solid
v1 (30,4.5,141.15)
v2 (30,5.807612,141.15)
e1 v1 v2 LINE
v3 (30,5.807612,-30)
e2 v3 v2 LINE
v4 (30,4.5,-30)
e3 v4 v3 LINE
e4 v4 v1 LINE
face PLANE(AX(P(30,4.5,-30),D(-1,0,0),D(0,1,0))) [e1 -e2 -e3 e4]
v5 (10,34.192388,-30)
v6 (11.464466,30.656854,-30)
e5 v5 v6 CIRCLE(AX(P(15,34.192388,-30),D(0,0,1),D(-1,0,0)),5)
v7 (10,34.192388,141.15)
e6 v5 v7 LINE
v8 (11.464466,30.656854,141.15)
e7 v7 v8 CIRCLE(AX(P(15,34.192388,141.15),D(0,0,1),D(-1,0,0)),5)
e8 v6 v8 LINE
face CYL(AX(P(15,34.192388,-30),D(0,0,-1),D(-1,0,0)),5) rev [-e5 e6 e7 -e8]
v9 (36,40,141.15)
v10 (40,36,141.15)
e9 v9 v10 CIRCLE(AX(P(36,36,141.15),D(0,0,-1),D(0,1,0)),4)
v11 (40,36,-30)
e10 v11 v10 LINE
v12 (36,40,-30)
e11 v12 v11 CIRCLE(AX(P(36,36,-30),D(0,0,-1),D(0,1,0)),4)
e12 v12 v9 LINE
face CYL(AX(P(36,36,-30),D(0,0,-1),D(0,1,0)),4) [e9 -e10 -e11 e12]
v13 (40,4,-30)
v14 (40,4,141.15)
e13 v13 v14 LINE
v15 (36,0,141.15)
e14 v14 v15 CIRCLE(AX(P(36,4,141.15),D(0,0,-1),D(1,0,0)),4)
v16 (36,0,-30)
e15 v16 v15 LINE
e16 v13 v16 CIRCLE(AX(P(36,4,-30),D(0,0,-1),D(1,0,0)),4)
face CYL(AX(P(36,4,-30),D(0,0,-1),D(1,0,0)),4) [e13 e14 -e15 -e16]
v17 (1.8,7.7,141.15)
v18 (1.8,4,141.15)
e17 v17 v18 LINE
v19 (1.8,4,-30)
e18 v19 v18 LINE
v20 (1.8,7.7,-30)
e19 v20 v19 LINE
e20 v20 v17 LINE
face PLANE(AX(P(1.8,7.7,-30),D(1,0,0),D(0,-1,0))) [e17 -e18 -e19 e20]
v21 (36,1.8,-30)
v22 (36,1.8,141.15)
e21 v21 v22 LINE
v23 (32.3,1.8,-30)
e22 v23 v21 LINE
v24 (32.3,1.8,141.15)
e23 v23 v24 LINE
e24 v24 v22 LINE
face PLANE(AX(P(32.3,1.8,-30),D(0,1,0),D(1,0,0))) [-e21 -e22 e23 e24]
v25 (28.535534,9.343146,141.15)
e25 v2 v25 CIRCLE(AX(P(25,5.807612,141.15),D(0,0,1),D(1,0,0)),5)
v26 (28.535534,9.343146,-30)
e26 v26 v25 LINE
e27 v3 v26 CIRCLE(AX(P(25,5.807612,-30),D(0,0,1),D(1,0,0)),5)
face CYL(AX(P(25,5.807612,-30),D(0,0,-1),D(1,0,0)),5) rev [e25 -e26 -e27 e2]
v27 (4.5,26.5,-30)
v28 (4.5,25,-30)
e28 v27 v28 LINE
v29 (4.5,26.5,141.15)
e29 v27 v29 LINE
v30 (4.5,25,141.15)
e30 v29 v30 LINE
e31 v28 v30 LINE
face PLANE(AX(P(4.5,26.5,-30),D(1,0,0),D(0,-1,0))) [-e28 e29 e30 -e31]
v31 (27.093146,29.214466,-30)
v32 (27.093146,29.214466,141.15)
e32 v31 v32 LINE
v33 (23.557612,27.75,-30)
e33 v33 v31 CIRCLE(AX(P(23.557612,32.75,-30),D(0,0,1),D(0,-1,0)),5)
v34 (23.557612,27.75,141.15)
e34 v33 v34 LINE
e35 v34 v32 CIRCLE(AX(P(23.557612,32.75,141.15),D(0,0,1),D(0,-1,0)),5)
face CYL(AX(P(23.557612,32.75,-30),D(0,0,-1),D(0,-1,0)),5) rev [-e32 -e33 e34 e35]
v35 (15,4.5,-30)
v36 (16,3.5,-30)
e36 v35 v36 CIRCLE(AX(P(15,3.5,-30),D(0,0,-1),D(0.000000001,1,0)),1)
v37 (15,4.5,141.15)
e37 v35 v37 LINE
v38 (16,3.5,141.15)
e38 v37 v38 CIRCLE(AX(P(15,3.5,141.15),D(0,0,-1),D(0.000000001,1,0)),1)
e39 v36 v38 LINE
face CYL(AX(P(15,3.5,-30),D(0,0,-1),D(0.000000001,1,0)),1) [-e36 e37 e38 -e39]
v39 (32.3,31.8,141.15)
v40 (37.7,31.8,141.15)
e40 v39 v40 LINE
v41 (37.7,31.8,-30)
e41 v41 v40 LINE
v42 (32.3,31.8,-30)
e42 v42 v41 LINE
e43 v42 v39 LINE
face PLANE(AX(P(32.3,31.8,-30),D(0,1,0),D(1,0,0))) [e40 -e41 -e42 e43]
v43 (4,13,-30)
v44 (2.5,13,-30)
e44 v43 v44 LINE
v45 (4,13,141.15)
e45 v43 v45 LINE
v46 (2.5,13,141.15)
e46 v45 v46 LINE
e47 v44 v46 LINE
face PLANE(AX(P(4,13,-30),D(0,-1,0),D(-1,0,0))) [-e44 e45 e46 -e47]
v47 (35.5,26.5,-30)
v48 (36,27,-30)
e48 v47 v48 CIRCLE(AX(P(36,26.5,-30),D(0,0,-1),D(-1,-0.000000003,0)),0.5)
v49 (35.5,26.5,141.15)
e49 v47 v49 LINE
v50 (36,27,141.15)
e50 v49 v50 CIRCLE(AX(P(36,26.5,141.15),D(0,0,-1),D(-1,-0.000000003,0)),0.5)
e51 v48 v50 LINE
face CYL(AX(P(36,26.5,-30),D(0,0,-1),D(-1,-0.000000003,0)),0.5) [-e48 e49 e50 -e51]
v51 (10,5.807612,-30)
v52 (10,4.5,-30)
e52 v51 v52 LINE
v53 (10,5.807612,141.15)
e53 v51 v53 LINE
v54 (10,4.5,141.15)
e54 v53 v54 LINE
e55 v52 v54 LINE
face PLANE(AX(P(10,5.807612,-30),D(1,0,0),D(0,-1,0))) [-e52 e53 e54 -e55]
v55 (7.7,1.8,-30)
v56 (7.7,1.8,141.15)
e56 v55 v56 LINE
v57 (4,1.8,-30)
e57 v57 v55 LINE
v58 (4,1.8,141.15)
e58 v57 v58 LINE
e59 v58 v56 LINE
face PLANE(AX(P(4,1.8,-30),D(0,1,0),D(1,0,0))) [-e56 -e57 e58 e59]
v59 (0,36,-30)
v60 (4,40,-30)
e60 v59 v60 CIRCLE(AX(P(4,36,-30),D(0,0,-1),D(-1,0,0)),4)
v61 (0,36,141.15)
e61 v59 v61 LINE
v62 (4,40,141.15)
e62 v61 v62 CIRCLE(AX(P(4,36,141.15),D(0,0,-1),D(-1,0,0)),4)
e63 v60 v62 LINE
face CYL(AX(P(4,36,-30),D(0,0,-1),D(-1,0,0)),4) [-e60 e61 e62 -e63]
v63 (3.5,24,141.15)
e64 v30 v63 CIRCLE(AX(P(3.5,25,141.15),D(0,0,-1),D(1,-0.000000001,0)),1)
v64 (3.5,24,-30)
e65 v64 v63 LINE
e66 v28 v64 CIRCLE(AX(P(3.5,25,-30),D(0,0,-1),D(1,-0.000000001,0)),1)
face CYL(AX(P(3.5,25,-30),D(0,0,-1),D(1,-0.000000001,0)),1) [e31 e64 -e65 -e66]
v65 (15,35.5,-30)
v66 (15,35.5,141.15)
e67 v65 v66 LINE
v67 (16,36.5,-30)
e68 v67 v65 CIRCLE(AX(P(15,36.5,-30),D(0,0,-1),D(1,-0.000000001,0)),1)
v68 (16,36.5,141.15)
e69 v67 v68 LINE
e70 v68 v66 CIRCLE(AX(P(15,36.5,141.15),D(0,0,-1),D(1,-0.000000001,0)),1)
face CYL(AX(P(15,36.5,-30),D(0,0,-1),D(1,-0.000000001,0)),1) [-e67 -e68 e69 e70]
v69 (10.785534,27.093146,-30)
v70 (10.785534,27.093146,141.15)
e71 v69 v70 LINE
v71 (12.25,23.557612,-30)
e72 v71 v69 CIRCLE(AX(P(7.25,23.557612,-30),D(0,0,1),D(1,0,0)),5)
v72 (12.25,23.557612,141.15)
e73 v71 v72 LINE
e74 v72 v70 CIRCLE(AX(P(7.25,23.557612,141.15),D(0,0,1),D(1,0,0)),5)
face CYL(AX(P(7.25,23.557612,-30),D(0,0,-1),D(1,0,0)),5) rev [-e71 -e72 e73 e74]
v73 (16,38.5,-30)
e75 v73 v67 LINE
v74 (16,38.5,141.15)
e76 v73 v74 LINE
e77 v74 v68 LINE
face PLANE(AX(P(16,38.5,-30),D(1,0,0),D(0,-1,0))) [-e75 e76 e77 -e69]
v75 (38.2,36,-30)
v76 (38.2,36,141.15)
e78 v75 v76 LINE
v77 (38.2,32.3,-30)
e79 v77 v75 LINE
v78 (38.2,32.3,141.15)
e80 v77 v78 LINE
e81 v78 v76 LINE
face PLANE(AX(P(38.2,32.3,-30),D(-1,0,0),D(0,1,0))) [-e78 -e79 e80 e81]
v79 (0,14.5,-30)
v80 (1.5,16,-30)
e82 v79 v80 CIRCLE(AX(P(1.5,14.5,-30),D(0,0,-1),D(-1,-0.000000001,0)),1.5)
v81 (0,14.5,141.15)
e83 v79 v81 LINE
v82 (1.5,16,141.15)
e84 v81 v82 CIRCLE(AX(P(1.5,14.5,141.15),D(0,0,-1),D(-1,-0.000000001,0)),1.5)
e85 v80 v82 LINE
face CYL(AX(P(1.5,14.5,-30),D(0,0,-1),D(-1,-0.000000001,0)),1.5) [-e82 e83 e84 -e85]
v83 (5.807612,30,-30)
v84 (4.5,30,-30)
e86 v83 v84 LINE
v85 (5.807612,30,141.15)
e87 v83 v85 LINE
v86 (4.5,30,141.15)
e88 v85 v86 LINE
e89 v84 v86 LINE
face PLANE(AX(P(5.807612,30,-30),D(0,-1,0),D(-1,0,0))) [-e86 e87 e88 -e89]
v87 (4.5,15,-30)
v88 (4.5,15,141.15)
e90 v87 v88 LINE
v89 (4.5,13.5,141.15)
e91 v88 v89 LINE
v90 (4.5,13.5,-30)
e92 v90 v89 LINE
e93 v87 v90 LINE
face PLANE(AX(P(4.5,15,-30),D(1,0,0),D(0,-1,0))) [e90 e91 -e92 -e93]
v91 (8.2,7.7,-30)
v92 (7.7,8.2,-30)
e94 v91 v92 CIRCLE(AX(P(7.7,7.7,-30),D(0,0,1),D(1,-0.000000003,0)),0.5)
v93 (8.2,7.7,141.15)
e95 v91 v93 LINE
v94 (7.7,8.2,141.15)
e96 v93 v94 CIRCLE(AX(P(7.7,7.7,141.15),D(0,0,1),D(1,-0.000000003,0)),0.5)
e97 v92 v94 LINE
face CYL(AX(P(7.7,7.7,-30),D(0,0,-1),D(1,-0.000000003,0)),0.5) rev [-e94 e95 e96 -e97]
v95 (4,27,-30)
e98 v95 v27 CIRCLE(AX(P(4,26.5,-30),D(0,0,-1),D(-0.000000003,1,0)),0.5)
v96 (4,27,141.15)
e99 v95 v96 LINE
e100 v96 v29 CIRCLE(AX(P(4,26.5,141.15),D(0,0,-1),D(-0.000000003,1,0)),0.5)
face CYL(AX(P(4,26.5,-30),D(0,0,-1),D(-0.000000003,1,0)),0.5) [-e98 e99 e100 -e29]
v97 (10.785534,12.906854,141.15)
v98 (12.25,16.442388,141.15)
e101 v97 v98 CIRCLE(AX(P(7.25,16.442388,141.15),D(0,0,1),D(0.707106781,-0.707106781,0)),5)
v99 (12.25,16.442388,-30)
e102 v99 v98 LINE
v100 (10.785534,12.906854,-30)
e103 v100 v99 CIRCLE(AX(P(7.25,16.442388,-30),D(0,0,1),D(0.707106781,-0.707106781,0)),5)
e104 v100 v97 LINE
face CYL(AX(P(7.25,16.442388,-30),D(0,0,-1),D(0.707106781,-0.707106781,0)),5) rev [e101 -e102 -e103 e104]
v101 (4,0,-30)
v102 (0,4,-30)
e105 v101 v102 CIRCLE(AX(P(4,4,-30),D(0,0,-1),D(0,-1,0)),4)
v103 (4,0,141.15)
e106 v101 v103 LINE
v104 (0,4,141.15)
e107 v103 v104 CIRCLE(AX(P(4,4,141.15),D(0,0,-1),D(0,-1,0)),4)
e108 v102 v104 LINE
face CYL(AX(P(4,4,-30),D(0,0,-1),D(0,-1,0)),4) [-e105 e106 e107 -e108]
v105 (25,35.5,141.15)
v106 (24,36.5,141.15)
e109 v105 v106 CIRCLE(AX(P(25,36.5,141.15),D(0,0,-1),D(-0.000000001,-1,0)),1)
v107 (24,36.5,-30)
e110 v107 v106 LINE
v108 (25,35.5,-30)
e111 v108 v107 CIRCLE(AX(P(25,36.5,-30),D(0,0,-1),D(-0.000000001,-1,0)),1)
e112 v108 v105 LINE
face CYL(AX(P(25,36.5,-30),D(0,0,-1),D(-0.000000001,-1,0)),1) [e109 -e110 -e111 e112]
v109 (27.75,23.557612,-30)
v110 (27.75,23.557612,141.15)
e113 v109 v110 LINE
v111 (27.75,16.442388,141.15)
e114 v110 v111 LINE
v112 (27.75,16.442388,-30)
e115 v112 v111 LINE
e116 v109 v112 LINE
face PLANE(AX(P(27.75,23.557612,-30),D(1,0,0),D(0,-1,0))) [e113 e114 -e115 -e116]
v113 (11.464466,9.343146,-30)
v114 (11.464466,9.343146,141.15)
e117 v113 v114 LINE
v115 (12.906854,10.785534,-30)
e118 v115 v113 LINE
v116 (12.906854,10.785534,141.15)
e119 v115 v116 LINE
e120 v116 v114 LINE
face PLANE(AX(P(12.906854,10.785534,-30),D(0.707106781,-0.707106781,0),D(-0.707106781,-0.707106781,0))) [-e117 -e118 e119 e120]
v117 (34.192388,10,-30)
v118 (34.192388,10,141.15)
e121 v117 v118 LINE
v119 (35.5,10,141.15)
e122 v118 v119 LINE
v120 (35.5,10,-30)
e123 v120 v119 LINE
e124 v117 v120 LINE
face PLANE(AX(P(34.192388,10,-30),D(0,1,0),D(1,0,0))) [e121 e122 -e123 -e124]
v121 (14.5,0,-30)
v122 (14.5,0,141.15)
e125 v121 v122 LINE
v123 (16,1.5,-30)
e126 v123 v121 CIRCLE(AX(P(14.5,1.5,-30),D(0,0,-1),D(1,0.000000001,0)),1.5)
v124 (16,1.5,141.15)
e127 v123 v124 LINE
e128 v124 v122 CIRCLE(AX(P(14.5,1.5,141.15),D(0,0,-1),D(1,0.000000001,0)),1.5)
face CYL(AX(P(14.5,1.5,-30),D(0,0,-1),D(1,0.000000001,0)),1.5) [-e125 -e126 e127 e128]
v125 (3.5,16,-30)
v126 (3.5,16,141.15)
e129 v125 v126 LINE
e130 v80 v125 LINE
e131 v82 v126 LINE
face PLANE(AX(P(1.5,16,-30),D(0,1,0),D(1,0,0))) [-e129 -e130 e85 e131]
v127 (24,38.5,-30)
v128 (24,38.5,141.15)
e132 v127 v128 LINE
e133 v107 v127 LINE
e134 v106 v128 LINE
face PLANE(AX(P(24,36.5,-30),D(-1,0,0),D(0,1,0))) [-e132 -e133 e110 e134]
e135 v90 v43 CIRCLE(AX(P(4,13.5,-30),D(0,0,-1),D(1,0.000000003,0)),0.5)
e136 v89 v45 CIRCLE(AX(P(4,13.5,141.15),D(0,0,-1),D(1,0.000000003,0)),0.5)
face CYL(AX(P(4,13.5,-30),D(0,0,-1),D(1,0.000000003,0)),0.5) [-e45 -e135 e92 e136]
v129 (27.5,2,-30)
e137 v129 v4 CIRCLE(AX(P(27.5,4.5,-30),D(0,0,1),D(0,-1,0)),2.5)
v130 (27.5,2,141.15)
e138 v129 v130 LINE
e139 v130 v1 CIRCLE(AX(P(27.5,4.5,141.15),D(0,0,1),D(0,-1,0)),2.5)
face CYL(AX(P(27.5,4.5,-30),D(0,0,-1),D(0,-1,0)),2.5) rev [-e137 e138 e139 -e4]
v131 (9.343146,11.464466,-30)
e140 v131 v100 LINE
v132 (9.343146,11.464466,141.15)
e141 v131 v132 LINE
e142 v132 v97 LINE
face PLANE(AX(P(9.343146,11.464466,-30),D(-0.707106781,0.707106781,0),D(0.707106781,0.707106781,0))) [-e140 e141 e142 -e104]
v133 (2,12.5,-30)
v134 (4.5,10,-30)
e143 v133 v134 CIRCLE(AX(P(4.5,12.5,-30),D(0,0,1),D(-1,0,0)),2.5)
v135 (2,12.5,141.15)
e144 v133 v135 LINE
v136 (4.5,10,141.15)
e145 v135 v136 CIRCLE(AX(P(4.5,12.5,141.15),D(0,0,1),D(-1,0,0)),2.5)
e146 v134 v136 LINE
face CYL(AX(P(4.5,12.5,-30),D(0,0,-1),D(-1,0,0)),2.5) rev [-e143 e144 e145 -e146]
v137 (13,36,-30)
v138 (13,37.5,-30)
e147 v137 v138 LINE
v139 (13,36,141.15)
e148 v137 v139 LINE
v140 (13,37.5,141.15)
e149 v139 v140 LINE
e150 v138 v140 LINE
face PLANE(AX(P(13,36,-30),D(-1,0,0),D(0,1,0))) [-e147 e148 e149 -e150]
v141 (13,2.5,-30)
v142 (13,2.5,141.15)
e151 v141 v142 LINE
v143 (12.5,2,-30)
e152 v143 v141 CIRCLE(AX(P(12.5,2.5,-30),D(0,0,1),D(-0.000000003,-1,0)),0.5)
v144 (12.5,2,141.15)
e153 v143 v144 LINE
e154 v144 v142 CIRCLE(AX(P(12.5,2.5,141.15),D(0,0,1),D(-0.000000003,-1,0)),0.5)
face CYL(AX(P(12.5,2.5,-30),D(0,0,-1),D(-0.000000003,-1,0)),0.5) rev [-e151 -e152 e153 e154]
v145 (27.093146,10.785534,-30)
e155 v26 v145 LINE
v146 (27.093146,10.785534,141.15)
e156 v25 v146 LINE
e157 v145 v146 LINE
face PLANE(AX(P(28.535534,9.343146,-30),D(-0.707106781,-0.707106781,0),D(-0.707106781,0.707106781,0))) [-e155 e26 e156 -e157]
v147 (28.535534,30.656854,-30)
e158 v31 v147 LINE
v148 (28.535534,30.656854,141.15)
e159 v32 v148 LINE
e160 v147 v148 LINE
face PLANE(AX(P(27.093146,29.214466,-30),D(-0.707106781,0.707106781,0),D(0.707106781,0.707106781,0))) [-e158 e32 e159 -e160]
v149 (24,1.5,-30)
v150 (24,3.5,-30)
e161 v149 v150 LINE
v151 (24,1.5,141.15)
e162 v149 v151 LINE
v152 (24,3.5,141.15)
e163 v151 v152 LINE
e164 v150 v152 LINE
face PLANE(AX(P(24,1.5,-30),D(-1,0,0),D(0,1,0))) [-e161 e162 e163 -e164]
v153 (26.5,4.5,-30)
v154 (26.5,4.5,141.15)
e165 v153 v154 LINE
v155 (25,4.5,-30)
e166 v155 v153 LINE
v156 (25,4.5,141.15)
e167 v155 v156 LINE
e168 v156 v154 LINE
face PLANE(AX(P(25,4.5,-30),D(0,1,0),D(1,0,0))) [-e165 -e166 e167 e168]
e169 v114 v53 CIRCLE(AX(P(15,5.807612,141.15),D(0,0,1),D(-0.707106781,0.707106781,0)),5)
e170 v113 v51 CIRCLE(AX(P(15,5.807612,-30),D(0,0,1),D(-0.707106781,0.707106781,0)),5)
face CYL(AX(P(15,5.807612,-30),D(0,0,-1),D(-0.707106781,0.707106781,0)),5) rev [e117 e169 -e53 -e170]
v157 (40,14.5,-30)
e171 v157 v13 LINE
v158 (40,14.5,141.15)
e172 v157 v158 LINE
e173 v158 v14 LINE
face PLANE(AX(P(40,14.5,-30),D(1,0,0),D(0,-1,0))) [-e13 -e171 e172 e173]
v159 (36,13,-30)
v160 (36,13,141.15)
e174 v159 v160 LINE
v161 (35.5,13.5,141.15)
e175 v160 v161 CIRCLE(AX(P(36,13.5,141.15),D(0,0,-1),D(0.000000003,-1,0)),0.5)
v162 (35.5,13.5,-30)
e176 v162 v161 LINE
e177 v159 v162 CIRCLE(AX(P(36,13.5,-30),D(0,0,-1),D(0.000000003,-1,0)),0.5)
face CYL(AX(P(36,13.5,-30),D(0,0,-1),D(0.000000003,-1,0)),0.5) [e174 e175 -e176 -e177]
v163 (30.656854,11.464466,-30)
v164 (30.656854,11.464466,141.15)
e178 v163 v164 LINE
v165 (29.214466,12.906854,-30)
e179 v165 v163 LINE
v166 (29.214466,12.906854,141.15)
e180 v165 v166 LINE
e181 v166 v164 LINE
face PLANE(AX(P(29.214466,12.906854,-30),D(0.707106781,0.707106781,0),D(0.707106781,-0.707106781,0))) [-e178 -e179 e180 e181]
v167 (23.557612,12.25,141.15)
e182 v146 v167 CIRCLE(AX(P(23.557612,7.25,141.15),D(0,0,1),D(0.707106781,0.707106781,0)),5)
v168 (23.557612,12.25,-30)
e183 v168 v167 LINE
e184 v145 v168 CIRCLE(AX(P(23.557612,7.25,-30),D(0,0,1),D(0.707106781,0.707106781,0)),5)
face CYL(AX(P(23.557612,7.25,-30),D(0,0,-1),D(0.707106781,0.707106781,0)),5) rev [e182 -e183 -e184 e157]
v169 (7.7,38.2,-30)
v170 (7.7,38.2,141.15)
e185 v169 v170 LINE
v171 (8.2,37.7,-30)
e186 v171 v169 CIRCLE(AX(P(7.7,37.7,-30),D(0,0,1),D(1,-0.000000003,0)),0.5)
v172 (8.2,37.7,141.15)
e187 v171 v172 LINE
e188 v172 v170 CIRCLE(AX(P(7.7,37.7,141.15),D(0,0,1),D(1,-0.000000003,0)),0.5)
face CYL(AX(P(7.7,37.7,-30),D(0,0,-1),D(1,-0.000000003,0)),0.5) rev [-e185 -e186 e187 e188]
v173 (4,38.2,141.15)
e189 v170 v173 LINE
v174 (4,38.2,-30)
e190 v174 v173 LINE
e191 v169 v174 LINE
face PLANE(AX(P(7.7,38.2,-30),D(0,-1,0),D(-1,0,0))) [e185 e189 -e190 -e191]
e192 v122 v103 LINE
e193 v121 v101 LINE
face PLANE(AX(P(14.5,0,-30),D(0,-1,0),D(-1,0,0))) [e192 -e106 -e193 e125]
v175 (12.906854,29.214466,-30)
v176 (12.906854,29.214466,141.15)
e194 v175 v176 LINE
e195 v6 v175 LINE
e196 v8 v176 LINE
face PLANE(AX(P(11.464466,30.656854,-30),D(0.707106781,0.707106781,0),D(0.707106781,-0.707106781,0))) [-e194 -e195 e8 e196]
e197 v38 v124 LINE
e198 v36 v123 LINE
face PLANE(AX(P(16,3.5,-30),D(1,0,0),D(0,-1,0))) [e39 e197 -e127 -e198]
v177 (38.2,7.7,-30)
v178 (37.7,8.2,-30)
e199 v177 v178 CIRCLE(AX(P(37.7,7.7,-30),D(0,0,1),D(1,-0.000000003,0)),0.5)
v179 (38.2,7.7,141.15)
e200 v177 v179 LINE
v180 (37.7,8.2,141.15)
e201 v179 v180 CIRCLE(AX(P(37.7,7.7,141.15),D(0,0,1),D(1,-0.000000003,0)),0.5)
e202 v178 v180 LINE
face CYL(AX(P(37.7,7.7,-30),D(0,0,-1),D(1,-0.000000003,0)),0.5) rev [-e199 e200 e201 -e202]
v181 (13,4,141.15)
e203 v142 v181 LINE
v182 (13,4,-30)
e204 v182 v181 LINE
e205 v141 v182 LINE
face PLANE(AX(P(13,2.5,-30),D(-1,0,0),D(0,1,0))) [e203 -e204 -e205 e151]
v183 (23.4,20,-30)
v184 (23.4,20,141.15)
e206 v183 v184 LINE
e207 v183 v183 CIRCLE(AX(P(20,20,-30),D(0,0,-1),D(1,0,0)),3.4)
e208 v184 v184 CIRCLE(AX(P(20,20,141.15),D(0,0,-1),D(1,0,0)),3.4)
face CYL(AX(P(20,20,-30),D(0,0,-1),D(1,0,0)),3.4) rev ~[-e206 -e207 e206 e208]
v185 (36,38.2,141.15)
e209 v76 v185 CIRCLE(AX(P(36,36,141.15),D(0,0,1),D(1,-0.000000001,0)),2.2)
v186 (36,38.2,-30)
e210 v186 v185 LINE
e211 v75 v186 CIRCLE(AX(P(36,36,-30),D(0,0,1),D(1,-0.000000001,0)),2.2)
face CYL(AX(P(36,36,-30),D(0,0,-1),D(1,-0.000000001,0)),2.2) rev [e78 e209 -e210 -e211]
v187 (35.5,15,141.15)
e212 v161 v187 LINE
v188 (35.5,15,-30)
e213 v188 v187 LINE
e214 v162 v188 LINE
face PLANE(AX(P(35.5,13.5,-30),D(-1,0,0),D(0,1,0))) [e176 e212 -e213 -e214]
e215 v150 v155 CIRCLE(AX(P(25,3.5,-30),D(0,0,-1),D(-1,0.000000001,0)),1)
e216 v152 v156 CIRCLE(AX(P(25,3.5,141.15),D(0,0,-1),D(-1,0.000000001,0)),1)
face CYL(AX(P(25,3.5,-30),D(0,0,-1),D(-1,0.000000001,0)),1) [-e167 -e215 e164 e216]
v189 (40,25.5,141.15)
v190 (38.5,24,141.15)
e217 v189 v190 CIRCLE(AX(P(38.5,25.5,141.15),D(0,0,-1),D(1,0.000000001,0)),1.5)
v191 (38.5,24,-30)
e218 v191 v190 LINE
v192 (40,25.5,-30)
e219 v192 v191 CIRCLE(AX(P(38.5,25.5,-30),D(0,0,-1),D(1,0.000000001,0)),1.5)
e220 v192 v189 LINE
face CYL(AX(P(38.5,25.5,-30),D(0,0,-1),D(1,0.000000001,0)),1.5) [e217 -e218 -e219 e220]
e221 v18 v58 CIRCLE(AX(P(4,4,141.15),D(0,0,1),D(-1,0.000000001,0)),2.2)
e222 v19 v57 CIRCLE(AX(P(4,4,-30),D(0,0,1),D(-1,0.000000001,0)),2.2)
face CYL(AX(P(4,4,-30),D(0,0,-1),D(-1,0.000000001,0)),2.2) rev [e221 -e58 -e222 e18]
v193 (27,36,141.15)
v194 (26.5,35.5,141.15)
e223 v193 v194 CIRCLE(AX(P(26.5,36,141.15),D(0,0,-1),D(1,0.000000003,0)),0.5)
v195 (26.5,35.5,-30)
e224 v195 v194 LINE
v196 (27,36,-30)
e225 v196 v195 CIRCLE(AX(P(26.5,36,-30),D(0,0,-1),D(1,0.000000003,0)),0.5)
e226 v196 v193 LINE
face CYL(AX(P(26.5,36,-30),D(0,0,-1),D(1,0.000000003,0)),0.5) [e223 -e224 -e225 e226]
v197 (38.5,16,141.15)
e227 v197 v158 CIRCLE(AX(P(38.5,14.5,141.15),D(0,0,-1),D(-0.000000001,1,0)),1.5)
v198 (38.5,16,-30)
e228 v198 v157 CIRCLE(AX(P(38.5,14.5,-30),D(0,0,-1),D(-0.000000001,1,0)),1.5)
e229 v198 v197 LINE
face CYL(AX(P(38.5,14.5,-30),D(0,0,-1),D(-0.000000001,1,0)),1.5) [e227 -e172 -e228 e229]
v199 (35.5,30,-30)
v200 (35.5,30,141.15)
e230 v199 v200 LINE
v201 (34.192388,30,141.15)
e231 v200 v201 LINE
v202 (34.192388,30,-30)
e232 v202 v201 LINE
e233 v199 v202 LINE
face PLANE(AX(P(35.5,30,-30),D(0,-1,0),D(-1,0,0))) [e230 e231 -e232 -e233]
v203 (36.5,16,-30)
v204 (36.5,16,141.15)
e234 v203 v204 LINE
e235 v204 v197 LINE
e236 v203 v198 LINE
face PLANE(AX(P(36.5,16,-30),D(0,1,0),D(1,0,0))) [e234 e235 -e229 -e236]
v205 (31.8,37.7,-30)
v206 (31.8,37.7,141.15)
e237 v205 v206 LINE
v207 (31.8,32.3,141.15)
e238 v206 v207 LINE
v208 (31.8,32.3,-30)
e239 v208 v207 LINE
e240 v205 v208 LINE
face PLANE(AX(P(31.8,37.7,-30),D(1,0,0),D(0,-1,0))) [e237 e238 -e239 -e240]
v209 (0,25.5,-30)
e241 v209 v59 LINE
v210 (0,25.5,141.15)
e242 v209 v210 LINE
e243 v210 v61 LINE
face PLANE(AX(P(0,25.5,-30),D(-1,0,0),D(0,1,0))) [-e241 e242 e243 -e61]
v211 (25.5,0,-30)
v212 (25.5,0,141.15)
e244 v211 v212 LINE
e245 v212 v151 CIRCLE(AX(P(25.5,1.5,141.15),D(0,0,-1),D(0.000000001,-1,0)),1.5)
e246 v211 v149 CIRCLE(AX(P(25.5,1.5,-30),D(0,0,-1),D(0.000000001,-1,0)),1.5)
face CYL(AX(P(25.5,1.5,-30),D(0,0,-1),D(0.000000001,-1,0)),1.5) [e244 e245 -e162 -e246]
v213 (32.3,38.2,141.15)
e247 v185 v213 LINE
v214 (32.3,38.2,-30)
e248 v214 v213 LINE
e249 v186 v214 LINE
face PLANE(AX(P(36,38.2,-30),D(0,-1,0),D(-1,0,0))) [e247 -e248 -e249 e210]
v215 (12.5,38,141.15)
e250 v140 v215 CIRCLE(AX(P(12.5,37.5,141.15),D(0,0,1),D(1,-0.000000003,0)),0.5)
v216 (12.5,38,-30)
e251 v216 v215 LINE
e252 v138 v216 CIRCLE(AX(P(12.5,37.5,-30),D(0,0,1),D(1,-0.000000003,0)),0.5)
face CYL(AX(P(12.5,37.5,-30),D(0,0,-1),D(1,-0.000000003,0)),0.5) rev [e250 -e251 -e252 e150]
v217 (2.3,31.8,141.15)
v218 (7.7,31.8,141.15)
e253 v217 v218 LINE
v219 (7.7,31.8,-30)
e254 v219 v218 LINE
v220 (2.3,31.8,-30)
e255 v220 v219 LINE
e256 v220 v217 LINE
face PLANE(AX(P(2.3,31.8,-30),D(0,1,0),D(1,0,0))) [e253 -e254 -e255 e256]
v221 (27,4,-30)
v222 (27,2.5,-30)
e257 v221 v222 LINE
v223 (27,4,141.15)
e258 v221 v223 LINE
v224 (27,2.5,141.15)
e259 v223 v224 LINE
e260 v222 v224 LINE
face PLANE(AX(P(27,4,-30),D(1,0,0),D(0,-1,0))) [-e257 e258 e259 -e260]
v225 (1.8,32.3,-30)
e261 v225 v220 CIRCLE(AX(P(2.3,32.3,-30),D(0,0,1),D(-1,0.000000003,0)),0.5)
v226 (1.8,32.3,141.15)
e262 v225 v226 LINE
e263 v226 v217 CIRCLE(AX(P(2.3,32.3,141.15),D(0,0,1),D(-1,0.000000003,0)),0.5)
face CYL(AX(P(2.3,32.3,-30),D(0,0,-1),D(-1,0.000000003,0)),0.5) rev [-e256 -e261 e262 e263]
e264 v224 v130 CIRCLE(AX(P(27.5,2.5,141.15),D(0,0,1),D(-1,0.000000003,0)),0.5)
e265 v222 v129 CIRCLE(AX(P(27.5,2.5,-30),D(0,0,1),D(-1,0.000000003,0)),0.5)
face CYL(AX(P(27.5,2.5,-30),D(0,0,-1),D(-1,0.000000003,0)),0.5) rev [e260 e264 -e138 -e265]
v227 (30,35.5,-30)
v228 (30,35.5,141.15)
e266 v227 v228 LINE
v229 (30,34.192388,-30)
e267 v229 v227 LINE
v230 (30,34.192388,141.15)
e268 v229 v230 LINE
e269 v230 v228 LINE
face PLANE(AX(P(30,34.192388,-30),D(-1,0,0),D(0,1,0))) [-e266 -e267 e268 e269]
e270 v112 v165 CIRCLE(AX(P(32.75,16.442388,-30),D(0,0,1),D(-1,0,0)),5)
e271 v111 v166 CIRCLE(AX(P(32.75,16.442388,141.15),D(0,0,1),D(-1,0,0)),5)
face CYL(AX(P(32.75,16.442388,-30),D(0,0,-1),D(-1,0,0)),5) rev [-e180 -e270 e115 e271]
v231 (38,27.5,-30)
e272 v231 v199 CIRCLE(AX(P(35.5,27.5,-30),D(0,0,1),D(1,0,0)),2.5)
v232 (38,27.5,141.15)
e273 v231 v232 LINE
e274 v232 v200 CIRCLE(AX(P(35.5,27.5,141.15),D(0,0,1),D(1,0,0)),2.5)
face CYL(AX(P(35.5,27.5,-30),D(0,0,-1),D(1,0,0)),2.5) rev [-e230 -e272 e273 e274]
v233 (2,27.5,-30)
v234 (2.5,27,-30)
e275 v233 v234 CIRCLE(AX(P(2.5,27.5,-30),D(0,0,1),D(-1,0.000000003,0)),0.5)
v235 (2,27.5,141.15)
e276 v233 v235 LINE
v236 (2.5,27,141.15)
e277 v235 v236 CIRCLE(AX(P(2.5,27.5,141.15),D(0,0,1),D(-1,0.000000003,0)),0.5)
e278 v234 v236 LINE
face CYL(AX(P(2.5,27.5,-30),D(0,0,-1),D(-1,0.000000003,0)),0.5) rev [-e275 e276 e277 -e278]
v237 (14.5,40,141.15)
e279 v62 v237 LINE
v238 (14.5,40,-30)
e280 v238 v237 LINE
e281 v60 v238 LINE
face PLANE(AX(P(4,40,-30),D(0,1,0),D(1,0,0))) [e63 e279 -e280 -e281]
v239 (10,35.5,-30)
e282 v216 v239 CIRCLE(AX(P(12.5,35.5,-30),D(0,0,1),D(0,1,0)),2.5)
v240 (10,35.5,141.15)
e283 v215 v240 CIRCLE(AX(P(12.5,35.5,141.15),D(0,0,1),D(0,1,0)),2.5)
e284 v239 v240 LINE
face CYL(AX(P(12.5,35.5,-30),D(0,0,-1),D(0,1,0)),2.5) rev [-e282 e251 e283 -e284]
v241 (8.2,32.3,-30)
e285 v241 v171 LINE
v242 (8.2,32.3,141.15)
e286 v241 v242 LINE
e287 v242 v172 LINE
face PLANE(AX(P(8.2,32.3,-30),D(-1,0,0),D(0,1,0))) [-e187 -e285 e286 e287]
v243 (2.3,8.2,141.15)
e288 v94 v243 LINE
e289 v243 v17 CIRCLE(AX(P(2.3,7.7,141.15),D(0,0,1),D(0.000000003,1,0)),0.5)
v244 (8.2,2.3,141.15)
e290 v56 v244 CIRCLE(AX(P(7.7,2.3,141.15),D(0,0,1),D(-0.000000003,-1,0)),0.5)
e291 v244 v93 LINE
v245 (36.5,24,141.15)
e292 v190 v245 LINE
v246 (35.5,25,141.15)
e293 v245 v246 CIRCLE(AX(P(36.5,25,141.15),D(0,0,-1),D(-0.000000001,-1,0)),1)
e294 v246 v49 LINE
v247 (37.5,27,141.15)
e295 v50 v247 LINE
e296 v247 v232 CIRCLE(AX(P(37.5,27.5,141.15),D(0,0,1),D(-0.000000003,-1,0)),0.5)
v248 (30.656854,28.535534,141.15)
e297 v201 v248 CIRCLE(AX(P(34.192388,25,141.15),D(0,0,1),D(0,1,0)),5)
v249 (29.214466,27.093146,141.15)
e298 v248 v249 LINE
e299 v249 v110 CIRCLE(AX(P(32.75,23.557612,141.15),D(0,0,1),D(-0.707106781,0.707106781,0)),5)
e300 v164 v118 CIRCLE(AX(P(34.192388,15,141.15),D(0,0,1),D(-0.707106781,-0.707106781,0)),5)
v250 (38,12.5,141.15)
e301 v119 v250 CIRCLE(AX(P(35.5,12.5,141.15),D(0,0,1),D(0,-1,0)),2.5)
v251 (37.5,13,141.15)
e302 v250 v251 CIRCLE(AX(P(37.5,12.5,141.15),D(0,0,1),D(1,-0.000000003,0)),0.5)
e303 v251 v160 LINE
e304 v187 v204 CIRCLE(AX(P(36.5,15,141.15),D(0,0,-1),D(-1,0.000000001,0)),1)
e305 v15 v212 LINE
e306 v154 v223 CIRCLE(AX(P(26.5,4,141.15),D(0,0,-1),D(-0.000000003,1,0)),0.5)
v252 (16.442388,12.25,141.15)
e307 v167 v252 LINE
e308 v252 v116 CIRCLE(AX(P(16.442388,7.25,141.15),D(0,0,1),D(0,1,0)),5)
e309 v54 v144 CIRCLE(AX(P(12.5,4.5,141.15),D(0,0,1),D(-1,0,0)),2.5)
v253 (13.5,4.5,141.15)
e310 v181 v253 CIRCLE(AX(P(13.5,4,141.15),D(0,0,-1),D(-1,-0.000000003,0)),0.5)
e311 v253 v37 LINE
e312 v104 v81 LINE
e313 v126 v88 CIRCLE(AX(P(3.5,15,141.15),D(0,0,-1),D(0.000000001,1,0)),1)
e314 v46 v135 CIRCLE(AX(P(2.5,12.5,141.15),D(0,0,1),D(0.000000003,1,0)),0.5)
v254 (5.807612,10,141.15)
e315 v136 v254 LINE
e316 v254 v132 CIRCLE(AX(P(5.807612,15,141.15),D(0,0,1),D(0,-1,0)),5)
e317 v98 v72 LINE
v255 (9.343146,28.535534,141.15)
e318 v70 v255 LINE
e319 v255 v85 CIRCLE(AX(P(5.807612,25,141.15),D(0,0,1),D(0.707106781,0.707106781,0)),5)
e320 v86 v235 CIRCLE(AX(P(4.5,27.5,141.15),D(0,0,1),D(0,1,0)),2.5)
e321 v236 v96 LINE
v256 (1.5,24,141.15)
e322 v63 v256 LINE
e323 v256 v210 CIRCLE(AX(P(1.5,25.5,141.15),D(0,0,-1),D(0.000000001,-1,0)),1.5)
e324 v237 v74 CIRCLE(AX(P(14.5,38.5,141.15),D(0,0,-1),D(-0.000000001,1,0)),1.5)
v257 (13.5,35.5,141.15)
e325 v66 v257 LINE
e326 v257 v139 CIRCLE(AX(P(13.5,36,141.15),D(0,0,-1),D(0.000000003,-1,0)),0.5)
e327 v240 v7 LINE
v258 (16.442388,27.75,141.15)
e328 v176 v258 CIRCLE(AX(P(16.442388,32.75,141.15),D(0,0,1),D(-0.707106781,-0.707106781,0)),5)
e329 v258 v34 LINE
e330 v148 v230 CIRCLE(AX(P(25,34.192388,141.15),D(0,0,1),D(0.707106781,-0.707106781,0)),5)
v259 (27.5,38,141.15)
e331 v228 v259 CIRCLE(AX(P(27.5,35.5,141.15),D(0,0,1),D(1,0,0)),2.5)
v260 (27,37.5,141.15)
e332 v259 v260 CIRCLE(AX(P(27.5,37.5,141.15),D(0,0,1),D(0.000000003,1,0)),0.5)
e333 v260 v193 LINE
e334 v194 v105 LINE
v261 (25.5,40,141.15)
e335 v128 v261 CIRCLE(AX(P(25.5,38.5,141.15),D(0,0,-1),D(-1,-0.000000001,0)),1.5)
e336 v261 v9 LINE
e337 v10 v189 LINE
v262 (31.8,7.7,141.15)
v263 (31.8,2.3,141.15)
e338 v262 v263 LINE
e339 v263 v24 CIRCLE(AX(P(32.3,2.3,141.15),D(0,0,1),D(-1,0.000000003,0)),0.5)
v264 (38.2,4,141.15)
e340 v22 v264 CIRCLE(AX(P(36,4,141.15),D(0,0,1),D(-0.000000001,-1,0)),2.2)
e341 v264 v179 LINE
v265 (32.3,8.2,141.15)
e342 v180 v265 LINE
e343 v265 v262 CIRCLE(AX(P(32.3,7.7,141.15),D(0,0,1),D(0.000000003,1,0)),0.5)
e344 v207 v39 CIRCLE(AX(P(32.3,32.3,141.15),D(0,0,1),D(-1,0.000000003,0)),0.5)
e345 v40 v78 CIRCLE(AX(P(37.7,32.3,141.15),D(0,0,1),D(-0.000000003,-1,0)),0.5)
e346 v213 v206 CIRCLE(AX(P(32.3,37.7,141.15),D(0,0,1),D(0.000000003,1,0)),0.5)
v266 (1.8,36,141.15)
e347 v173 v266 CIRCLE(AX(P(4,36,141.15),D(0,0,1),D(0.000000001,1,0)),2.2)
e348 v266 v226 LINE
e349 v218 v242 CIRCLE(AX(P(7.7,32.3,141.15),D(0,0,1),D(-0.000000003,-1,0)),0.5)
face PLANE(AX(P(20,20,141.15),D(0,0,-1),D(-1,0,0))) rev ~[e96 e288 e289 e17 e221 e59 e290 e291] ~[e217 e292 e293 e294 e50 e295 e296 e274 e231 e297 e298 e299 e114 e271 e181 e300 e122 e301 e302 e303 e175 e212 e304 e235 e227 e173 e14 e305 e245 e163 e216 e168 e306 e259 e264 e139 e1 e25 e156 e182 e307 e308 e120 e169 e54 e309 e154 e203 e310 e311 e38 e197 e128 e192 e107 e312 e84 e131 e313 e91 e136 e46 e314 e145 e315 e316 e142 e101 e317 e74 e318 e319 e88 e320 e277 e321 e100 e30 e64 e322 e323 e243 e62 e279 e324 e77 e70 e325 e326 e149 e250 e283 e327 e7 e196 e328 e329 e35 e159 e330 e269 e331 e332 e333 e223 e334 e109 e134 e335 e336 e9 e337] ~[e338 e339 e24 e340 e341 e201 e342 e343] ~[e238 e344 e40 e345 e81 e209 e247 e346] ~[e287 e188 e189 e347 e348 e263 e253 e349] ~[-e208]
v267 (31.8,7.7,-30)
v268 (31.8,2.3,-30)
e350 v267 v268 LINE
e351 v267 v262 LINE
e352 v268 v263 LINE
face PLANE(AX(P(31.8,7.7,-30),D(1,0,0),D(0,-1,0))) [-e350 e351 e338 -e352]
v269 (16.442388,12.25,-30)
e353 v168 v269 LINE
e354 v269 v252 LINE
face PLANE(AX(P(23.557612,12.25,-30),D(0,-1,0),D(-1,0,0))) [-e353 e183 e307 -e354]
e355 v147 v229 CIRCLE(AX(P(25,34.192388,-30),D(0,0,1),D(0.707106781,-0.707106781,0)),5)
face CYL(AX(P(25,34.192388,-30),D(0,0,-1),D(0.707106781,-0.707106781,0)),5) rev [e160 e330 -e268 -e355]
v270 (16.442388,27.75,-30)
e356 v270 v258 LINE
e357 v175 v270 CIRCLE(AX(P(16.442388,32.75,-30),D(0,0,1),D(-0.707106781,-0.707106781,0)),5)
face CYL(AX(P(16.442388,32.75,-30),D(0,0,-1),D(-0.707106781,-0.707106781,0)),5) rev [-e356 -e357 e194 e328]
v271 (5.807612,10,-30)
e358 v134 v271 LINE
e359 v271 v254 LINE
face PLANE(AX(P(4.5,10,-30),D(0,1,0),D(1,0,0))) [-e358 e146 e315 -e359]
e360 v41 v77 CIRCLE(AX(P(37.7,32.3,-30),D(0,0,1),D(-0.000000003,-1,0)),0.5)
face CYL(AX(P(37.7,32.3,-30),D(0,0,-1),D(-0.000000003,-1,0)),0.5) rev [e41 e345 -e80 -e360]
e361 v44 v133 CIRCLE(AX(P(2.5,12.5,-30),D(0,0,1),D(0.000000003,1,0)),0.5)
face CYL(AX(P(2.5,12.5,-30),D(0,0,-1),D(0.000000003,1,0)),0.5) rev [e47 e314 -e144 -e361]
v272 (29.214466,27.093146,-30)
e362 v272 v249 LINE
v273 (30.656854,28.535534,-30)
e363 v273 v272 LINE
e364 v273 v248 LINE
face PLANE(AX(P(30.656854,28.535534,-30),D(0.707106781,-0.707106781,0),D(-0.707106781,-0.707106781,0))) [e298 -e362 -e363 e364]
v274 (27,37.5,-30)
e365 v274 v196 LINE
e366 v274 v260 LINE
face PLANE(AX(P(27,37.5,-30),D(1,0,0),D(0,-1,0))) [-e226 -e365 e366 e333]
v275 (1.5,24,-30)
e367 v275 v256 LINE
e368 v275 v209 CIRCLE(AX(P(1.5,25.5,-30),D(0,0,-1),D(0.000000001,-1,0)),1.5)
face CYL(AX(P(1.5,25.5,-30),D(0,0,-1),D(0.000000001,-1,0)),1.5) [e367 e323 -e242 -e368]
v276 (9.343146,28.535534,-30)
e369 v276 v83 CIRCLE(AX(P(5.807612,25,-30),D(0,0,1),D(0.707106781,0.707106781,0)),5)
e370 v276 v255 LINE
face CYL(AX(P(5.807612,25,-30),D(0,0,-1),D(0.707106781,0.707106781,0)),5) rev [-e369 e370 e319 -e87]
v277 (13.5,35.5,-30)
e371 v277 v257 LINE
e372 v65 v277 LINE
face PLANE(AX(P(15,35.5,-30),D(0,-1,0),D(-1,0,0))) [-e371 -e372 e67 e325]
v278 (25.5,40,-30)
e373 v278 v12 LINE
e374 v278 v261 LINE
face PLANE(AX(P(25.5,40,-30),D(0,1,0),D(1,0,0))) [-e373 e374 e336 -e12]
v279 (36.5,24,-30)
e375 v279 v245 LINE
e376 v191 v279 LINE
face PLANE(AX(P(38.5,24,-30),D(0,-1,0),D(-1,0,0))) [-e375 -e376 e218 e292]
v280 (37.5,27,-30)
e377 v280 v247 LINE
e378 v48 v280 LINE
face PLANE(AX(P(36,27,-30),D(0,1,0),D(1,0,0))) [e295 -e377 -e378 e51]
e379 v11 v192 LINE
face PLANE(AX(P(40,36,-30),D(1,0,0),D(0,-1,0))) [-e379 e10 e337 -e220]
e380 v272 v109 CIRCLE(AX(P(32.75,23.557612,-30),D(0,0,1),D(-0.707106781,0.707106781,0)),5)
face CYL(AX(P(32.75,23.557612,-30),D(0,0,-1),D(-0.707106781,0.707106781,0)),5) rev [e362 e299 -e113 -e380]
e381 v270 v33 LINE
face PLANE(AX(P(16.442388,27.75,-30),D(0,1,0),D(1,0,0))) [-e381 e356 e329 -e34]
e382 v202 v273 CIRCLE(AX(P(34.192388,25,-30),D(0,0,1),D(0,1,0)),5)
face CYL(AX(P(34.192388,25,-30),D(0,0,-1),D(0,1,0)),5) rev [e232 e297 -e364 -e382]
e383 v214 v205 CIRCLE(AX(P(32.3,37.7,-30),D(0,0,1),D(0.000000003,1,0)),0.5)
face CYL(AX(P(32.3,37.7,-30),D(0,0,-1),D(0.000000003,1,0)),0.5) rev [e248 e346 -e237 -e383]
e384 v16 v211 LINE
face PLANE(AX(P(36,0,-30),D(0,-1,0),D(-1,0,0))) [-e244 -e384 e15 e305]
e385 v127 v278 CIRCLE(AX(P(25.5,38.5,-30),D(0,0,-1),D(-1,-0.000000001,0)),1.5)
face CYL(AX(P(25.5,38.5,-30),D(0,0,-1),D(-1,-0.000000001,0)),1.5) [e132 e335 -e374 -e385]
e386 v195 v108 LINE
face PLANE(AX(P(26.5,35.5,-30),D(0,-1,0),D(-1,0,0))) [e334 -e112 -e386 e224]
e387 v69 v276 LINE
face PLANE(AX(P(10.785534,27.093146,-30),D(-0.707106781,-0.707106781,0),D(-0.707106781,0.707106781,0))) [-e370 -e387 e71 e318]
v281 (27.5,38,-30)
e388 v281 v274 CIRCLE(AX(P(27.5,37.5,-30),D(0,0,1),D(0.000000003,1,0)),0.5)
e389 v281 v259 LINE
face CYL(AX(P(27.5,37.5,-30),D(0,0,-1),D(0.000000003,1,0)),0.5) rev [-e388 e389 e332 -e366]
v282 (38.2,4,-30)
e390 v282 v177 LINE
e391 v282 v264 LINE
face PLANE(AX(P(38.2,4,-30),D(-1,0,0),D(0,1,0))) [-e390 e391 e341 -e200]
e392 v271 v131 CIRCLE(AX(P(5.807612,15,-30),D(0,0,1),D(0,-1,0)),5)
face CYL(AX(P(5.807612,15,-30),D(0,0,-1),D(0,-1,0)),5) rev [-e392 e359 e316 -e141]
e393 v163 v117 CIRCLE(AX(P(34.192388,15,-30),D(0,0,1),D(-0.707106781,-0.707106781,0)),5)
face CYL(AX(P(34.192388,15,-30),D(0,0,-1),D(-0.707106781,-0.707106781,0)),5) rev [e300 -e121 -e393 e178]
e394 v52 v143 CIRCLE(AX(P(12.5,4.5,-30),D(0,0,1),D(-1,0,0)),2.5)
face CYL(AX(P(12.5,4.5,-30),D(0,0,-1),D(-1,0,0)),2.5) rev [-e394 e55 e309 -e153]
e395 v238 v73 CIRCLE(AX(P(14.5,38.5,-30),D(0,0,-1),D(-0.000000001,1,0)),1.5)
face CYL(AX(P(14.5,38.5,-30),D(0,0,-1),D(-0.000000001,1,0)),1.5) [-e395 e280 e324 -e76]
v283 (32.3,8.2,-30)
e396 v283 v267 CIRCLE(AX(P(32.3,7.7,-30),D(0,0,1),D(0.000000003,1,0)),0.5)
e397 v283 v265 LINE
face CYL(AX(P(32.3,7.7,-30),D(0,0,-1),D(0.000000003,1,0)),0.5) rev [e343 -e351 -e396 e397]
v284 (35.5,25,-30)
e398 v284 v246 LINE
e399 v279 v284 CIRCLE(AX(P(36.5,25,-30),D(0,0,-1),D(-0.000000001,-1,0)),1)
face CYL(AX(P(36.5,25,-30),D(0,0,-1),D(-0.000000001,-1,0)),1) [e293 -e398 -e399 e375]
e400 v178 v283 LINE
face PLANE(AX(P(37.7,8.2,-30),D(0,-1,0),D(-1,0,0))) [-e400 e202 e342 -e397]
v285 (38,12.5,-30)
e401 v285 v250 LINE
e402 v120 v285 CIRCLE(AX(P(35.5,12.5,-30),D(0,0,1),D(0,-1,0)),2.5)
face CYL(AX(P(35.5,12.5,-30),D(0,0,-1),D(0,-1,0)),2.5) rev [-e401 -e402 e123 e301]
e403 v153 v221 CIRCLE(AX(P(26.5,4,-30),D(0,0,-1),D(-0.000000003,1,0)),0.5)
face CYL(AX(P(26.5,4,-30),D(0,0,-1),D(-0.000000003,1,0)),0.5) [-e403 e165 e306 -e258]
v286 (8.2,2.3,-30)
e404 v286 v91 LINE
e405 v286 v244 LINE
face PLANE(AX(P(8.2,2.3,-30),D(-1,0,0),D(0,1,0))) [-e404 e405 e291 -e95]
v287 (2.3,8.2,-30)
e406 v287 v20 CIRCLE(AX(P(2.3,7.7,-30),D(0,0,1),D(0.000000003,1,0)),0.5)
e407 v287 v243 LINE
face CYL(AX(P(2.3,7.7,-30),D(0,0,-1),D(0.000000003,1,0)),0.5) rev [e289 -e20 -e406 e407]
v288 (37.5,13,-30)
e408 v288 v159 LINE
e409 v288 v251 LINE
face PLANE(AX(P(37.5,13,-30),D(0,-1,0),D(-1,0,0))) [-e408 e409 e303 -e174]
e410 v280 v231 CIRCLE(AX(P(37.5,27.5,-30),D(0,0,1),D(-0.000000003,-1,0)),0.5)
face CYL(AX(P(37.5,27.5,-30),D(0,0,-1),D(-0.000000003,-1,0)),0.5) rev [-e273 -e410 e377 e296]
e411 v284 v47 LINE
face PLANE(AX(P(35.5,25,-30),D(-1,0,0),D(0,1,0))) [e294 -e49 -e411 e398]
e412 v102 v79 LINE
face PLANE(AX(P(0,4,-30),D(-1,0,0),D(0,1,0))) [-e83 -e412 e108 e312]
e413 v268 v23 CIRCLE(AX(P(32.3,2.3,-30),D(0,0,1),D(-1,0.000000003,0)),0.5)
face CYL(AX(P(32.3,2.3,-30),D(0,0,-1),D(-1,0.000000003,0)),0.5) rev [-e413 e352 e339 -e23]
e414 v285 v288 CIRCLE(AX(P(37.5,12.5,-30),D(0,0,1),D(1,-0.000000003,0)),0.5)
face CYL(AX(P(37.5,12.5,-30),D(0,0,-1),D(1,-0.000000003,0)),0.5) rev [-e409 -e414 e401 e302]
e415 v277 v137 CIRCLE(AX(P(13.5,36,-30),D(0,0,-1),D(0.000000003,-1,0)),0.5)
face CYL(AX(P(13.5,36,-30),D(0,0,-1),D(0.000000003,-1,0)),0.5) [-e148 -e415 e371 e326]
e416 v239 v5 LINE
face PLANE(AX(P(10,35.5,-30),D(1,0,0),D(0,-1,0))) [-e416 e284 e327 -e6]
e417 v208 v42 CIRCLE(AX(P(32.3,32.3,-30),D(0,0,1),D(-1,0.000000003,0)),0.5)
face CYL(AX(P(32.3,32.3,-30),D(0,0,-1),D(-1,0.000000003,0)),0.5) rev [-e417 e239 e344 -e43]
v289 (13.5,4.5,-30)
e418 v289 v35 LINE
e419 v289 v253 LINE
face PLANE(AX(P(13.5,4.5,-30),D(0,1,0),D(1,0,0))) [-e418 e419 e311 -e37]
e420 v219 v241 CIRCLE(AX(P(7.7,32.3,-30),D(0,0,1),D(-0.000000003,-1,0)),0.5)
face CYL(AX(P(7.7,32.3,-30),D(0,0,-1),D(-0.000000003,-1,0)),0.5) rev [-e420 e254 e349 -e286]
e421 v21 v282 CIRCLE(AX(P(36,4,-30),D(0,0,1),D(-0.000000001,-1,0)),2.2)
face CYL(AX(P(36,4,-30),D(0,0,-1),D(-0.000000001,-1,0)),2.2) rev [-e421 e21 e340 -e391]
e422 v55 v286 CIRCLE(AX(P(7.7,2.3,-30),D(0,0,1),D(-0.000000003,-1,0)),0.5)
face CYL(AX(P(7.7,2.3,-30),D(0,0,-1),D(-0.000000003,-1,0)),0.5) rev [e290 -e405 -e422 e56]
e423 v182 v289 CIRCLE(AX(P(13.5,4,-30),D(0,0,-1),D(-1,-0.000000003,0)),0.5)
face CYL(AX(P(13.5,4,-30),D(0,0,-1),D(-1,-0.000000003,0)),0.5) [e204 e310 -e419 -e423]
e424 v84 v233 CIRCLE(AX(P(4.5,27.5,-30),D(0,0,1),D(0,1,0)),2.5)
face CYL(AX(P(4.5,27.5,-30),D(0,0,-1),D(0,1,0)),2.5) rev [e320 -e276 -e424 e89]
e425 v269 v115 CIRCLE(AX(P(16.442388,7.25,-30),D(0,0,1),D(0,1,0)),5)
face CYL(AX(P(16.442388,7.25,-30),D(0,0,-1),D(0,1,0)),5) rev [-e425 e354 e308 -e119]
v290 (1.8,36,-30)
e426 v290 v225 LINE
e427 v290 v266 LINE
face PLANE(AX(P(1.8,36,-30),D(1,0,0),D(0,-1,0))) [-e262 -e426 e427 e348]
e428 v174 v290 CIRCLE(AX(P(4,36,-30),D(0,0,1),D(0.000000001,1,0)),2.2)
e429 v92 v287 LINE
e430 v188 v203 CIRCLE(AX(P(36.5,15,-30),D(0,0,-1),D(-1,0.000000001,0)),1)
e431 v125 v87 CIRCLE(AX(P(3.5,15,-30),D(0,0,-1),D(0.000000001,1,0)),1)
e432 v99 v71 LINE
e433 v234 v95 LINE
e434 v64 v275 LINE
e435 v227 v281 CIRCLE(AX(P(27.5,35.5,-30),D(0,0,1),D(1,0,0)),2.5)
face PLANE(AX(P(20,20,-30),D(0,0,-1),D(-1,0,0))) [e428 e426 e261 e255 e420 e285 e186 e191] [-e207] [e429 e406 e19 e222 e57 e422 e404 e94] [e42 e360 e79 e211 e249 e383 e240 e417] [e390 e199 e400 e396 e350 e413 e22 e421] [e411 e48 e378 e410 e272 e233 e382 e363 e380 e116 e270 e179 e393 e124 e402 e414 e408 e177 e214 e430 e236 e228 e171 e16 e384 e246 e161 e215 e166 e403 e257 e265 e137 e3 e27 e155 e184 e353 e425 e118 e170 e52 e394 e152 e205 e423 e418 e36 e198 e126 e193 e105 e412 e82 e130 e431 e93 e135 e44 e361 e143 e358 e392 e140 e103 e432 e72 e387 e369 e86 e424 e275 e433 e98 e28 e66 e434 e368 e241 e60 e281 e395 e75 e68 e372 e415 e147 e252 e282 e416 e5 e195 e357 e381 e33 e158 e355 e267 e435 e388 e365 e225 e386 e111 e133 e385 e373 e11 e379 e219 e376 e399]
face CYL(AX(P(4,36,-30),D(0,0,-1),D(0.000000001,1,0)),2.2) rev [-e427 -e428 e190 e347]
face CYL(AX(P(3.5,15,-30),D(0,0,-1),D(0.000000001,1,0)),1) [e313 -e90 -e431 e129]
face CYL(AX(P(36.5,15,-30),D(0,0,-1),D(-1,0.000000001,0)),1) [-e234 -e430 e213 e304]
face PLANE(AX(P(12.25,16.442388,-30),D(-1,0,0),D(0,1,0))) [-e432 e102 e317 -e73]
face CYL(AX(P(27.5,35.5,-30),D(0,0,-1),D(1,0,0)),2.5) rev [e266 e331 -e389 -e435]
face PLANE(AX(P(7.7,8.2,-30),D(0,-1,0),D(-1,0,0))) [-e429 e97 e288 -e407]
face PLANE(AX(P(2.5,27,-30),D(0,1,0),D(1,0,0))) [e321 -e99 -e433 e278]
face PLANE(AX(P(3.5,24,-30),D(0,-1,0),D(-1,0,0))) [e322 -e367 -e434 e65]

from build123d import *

# Parameters (mm, degrees)
ESQUISSE1_R        = 3.4
BOSS_EXTRU_1_DEPTH = 171.15


with BuildPart() as part:
    # Esquisse1 → Boss.-Extru.1 (new body)
    with BuildSketch(Plane(origin=(0, 0, -30), x_dir=(-1, 0, 0), z_dir=(0, 0, -1))):
        with BuildLine():
            Line((-4.5, 15), (-4.5, 13.5))
            ThreePointArc((-4.5, 13.5), (-4.353553391, 13.146446609), (-4, 13))
            Line((-4, 13), (-2.5, 13))
            ThreePointArc((-2.5, 13), (-2.146446609, 12.853553391), (-2, 12.5))
            ThreePointArc((-2, 12.5), (-2.732233047, 10.732233047), (-4.5, 10))
            Line((-4.5, 10), (-5.807611845, 10))
            ThreePointArc((-5.807611845, 10), (-7.721029006, 10.380602337), (-9.343145751, 11.464466094))
            Line((-9.343145751, 11.464466094), (-10.785533906, 12.906854249))
            ThreePointArc((-10.785533906, 12.906854249), (-11.869397663, 14.528970994), (-12.25, 16.442388155))
            Line((-12.25, 16.442388155), (-12.25, 23.557611845))
            ThreePointArc((-12.25, 23.557611845), (-11.869397663, 25.471029006), (-10.785533906, 27.093145751))
            Line((-10.785533906, 27.093145751), (-9.343145751, 28.535533906))
            ThreePointArc((-9.343145751, 28.535533906), (-7.721029006, 29.619397663), (-5.807611845, 30))
            Line((-5.807611845, 30), (-4.5, 30))
            ThreePointArc((-4.5, 30), (-2.732233047, 29.267766953), (-2, 27.5))
            ThreePointArc((-2, 27.5), (-2.146446609, 27.146446609), (-2.5, 27))
            Line((-2.5, 27), (-4, 27))
            ThreePointArc((-4, 27), (-4.353553391, 26.853553391), (-4.5, 26.5))
            Line((-4.5, 26.5), (-4.5, 25))
            ThreePointArc((-4.5, 25), (-4.207106781, 24.292893219), (-3.5, 24))
            Line((-3.5, 24), (-1.5, 24))
            ThreePointArc((-1.5, 24), (-0.439339828, 24.439339828), (0, 25.5))
            Line((0, 25.5), (0, 36))
            ThreePointArc((0, 36), (-1.171572875, 38.828427125), (-4, 40))
            Line((-4, 40), (-14.5, 40))
            ThreePointArc((-14.5, 40), (-15.560660172, 39.560660172), (-16, 38.5))
            Line((-16, 38.5), (-16, 36.5))
            ThreePointArc((-16, 36.5), (-15.707106781, 35.792893219), (-15, 35.5))
            Line((-15, 35.5), (-13.5, 35.5))
            ThreePointArc((-13.5, 35.5), (-13.146446609, 35.646446609), (-13, 36))
            Line((-13, 36), (-13, 37.5))
            ThreePointArc((-13, 37.5), (-12.853553391, 37.853553391), (-12.5, 38))
            ThreePointArc((-12.5, 38), (-10.732233047, 37.267766953), (-10, 35.5))
            Line((-10, 35.5), (-10, 34.192388155))
            ThreePointArc((-10, 34.192388155), (-10.380602337, 32.278970994), (-11.464466094, 30.656854249))
            Line((-11.464466094, 30.656854249), (-12.906854249, 29.214466094))
            ThreePointArc((-12.906854249, 29.214466094), (-14.528970994, 28.130602337), (-16.442388155, 27.75))
            Line((-16.442388155, 27.75), (-23.557611845, 27.75))
            ThreePointArc((-23.557611845, 27.75), (-25.471029006, 28.130602337), (-27.093145751, 29.214466094))
            Line((-27.093145751, 29.214466094), (-28.535533906, 30.656854249))
            ThreePointArc((-28.535533906, 30.656854249), (-29.619397663, 32.278970994), (-30, 34.192388155))
            Line((-30, 34.192388155), (-30, 35.5))
            ThreePointArc((-30, 35.5), (-29.267766953, 37.267766953), (-27.5, 38))
            ThreePointArc((-27.5, 38), (-27.146446609, 37.853553391), (-27, 37.5))
            Line((-27, 37.5), (-27, 36))
            ThreePointArc((-27, 36), (-26.853553391, 35.646446609), (-26.5, 35.5))
            Line((-26.5, 35.5), (-25, 35.5))
            ThreePointArc((-25, 35.5), (-24.292893219, 35.792893219), (-24, 36.5))
            Line((-24, 36.5), (-24, 38.5))
            ThreePointArc((-24, 38.5), (-24.439339828, 39.560660172), (-25.5, 40))
            Line((-25.5, 40), (-36, 40))
            ThreePointArc((-36, 40), (-38.828427125, 38.828427125), (-40, 36))
            Line((-40, 36), (-40, 25.5))
            ThreePointArc((-40, 25.5), (-39.560660172, 24.439339828), (-38.5, 24))
            Line((-38.5, 24), (-36.5, 24))
            ThreePointArc((-36.5, 24), (-35.792893219, 24.292893219), (-35.5, 25))
            Line((-35.5, 25), (-35.5, 26.5))
            ThreePointArc((-35.5, 26.5), (-35.646446609, 26.853553391), (-36, 27))
            Line((-36, 27), (-37.5, 27))
            ThreePointArc((-37.5, 27), (-37.853553391, 27.146446609), (-38, 27.5))
            ThreePointArc((-38, 27.5), (-37.267766953, 29.267766953), (-35.5, 30))
            Line((-35.5, 30), (-34.192388155, 30))
            ThreePointArc((-34.192388155, 30), (-32.278970994, 29.619397663), (-30.656854249, 28.535533906))
            Line((-30.656854249, 28.535533906), (-29.214466094, 27.093145751))
            ThreePointArc((-29.214466094, 27.093145751), (-28.130602337, 25.471029006), (-27.75, 23.557611845))
            Line((-27.75, 23.557611845), (-27.75, 16.442388155))
            ThreePointArc((-27.75, 16.442388155), (-28.130602337, 14.528970994), (-29.214466094, 12.906854249))
            Line((-29.214466094, 12.906854249), (-30.656854249, 11.464466094))
            ThreePointArc((-30.656854249, 11.464466094), (-32.278970994, 10.380602337), (-34.192388155, 10))
            Line((-34.192388155, 10), (-35.5, 10))
            ThreePointArc((-35.5, 10), (-37.267766953, 10.732233047), (-38, 12.5))
            ThreePointArc((-38, 12.5), (-37.853553391, 12.853553391), (-37.5, 13))
            Line((-37.5, 13), (-36, 13))
            ThreePointArc((-36, 13), (-35.646446609, 13.146446609), (-35.5, 13.5))
            Line((-35.5, 13.5), (-35.5, 15))
            ThreePointArc((-35.5, 15), (-35.792893219, 15.707106781), (-36.5, 16))
            Line((-36.5, 16), (-38.5, 16))
            ThreePointArc((-38.5, 16), (-39.560660172, 15.560660172), (-40, 14.5))
            Line((-40, 14.5), (-40, 4))
            ThreePointArc((-40, 4), (-38.828427125, 1.171572875), (-36, 0))
            Line((-36, 0), (-25.5, 0))
            ThreePointArc((-25.5, 0), (-24.439339828, 0.439339828), (-24, 1.5))
            Line((-24, 1.5), (-24, 3.5))
            ThreePointArc((-24, 3.5), (-24.292893219, 4.207106781), (-25, 4.5))
            Line((-25, 4.5), (-26.5, 4.5))
            ThreePointArc((-26.5, 4.5), (-26.853553391, 4.353553391), (-27, 4))
            Line((-27, 4), (-27, 2.5))
            ThreePointArc((-27, 2.5), (-27.146446609, 2.146446609), (-27.5, 2))
            ThreePointArc((-27.5, 2), (-29.267766953, 2.732233047), (-30, 4.5))
            Line((-30, 4.5), (-30, 5.807611845))
            ThreePointArc((-30, 5.807611845), (-29.619397663, 7.721029006), (-28.535533906, 9.343145751))
            Line((-28.535533906, 9.343145751), (-27.093145751, 10.785533906))
            ThreePointArc((-27.093145751, 10.785533906), (-25.471029006, 11.869397663), (-23.557611845, 12.25))
            Line((-23.557611845, 12.25), (-16.442388155, 12.25))
            ThreePointArc((-16.442388155, 12.25), (-14.528970994, 11.869397663), (-12.906854249, 10.785533906))
            Line((-12.906854249, 10.785533906), (-11.464466094, 9.343145751))
            ThreePointArc((-11.464466094, 9.343145751), (-10.380602337, 7.721029006), (-10, 5.807611845))
            Line((-10, 5.807611845), (-10, 4.5))
            ThreePointArc((-10, 4.5), (-10.732233047, 2.732233047), (-12.5, 2))
            ThreePointArc((-12.5, 2), (-12.853553391, 2.146446609), (-13, 2.5))
            Line((-13, 2.5), (-13, 4))
            ThreePointArc((-13, 4), (-13.146446609, 4.353553391), (-13.5, 4.5))
            Line((-13.5, 4.5), (-15, 4.5))
            ThreePointArc((-15, 4.5), (-15.707106781, 4.207106781), (-16, 3.5))
            Line((-16, 3.5), (-16, 1.5))
            ThreePointArc((-16, 1.5), (-15.560660172, 0.439339828), (-14.5, 0))
            Line((-14.5, 0), (-4, 0))
            ThreePointArc((-4, 0), (-1.171572875, 1.171572875), (0, 4))
            Line((0, 4), (0, 14.5))
            ThreePointArc((0, 14.5), (-0.439339828, 15.560660172), (-1.5, 16))
            Line((-1.5, 16), (-3.5, 16))
            ThreePointArc((-3.5, 16), (-4.207106781, 15.707106781), (-4.5, 15))
        make_face()
        with Locations(Location((-20, 20, 0), (0, 0, 180))):
            Circle(ESQUISSE1_R, mode=Mode.SUBTRACT)
        with BuildLine():
            Line((-4, 1.8), (-7.7, 1.8))
            ThreePointArc((-7.7, 1.8), (-8.053553391, 1.946446609), (-8.2, 2.3))
            Line((-8.2, 2.3), (-8.2, 7.7))
            ThreePointArc((-8.2, 7.7), (-8.053553391, 8.053553391), (-7.7, 8.2))
            Line((-7.7, 8.2), (-2.3, 8.2))
            ThreePointArc((-2.3, 8.2), (-1.946446609, 8.053553391), (-1.8, 7.7))
            Line((-1.8, 7.7), (-1.8, 4))
            ThreePointArc((-1.8, 4), (-2.444365081, 2.444365081), (-4, 1.8))
        make_face(mode=Mode.SUBTRACT)
        with BuildLine():
            Line((-38.2, 4), (-38.2, 7.7))
            ThreePointArc((-38.2, 7.7), (-38.053553391, 8.053553391), (-37.7, 8.2))
            Line((-37.7, 8.2), (-32.3, 8.2))
            ThreePointArc((-32.3, 8.2), (-31.946446609, 8.053553391), (-31.8, 7.7))
            Line((-31.8, 7.7), (-31.8, 2.3))
            ThreePointArc((-31.8, 2.3), (-31.946446609, 1.946446609), (-32.3, 1.8))
            Line((-32.3, 1.8), (-36, 1.8))
            ThreePointArc((-36, 1.8), (-37.555634919, 2.444365081), (-38.2, 4))
        make_face(mode=Mode.SUBTRACT)
        with BuildLine():
            Line((-36, 38.2), (-32.3, 38.2))
            ThreePointArc((-32.3, 38.2), (-31.946446609, 38.053553391), (-31.8, 37.7))
            Line((-31.8, 37.7), (-31.8, 32.3))
            ThreePointArc((-31.8, 32.3), (-31.946446609, 31.946446609), (-32.3, 31.8))
            Line((-32.3, 31.8), (-37.7, 31.8))
            ThreePointArc((-37.7, 31.8), (-38.053553391, 31.946446609), (-38.2, 32.3))
            Line((-38.2, 32.3), (-38.2, 36))
            ThreePointArc((-38.2, 36), (-37.555634919, 37.555634919), (-36, 38.2))
        make_face(mode=Mode.SUBTRACT)
        with BuildLine():
            Line((-1.8, 36), (-1.8, 32.3))
            ThreePointArc((-1.8, 32.3), (-1.946446609, 31.946446609), (-2.3, 31.8))
            Line((-2.3, 31.8), (-7.7, 31.8))
            ThreePointArc((-7.7, 31.8), (-8.053553391, 31.946446609), (-8.2, 32.3))
            Line((-8.2, 32.3), (-8.2, 37.7))
            ThreePointArc((-8.2, 37.7), (-8.053553391, 38.053553391), (-7.7, 38.2))
            Line((-7.7, 38.2), (-4, 38.2))
            ThreePointArc((-4, 38.2), (-2.444365081, 37.555634919), (-1.8, 36))
        make_face(mode=Mode.SUBTRACT)
    extrude(amount=-BOSS_EXTRU_1_DEPTH)


solid = part.part
